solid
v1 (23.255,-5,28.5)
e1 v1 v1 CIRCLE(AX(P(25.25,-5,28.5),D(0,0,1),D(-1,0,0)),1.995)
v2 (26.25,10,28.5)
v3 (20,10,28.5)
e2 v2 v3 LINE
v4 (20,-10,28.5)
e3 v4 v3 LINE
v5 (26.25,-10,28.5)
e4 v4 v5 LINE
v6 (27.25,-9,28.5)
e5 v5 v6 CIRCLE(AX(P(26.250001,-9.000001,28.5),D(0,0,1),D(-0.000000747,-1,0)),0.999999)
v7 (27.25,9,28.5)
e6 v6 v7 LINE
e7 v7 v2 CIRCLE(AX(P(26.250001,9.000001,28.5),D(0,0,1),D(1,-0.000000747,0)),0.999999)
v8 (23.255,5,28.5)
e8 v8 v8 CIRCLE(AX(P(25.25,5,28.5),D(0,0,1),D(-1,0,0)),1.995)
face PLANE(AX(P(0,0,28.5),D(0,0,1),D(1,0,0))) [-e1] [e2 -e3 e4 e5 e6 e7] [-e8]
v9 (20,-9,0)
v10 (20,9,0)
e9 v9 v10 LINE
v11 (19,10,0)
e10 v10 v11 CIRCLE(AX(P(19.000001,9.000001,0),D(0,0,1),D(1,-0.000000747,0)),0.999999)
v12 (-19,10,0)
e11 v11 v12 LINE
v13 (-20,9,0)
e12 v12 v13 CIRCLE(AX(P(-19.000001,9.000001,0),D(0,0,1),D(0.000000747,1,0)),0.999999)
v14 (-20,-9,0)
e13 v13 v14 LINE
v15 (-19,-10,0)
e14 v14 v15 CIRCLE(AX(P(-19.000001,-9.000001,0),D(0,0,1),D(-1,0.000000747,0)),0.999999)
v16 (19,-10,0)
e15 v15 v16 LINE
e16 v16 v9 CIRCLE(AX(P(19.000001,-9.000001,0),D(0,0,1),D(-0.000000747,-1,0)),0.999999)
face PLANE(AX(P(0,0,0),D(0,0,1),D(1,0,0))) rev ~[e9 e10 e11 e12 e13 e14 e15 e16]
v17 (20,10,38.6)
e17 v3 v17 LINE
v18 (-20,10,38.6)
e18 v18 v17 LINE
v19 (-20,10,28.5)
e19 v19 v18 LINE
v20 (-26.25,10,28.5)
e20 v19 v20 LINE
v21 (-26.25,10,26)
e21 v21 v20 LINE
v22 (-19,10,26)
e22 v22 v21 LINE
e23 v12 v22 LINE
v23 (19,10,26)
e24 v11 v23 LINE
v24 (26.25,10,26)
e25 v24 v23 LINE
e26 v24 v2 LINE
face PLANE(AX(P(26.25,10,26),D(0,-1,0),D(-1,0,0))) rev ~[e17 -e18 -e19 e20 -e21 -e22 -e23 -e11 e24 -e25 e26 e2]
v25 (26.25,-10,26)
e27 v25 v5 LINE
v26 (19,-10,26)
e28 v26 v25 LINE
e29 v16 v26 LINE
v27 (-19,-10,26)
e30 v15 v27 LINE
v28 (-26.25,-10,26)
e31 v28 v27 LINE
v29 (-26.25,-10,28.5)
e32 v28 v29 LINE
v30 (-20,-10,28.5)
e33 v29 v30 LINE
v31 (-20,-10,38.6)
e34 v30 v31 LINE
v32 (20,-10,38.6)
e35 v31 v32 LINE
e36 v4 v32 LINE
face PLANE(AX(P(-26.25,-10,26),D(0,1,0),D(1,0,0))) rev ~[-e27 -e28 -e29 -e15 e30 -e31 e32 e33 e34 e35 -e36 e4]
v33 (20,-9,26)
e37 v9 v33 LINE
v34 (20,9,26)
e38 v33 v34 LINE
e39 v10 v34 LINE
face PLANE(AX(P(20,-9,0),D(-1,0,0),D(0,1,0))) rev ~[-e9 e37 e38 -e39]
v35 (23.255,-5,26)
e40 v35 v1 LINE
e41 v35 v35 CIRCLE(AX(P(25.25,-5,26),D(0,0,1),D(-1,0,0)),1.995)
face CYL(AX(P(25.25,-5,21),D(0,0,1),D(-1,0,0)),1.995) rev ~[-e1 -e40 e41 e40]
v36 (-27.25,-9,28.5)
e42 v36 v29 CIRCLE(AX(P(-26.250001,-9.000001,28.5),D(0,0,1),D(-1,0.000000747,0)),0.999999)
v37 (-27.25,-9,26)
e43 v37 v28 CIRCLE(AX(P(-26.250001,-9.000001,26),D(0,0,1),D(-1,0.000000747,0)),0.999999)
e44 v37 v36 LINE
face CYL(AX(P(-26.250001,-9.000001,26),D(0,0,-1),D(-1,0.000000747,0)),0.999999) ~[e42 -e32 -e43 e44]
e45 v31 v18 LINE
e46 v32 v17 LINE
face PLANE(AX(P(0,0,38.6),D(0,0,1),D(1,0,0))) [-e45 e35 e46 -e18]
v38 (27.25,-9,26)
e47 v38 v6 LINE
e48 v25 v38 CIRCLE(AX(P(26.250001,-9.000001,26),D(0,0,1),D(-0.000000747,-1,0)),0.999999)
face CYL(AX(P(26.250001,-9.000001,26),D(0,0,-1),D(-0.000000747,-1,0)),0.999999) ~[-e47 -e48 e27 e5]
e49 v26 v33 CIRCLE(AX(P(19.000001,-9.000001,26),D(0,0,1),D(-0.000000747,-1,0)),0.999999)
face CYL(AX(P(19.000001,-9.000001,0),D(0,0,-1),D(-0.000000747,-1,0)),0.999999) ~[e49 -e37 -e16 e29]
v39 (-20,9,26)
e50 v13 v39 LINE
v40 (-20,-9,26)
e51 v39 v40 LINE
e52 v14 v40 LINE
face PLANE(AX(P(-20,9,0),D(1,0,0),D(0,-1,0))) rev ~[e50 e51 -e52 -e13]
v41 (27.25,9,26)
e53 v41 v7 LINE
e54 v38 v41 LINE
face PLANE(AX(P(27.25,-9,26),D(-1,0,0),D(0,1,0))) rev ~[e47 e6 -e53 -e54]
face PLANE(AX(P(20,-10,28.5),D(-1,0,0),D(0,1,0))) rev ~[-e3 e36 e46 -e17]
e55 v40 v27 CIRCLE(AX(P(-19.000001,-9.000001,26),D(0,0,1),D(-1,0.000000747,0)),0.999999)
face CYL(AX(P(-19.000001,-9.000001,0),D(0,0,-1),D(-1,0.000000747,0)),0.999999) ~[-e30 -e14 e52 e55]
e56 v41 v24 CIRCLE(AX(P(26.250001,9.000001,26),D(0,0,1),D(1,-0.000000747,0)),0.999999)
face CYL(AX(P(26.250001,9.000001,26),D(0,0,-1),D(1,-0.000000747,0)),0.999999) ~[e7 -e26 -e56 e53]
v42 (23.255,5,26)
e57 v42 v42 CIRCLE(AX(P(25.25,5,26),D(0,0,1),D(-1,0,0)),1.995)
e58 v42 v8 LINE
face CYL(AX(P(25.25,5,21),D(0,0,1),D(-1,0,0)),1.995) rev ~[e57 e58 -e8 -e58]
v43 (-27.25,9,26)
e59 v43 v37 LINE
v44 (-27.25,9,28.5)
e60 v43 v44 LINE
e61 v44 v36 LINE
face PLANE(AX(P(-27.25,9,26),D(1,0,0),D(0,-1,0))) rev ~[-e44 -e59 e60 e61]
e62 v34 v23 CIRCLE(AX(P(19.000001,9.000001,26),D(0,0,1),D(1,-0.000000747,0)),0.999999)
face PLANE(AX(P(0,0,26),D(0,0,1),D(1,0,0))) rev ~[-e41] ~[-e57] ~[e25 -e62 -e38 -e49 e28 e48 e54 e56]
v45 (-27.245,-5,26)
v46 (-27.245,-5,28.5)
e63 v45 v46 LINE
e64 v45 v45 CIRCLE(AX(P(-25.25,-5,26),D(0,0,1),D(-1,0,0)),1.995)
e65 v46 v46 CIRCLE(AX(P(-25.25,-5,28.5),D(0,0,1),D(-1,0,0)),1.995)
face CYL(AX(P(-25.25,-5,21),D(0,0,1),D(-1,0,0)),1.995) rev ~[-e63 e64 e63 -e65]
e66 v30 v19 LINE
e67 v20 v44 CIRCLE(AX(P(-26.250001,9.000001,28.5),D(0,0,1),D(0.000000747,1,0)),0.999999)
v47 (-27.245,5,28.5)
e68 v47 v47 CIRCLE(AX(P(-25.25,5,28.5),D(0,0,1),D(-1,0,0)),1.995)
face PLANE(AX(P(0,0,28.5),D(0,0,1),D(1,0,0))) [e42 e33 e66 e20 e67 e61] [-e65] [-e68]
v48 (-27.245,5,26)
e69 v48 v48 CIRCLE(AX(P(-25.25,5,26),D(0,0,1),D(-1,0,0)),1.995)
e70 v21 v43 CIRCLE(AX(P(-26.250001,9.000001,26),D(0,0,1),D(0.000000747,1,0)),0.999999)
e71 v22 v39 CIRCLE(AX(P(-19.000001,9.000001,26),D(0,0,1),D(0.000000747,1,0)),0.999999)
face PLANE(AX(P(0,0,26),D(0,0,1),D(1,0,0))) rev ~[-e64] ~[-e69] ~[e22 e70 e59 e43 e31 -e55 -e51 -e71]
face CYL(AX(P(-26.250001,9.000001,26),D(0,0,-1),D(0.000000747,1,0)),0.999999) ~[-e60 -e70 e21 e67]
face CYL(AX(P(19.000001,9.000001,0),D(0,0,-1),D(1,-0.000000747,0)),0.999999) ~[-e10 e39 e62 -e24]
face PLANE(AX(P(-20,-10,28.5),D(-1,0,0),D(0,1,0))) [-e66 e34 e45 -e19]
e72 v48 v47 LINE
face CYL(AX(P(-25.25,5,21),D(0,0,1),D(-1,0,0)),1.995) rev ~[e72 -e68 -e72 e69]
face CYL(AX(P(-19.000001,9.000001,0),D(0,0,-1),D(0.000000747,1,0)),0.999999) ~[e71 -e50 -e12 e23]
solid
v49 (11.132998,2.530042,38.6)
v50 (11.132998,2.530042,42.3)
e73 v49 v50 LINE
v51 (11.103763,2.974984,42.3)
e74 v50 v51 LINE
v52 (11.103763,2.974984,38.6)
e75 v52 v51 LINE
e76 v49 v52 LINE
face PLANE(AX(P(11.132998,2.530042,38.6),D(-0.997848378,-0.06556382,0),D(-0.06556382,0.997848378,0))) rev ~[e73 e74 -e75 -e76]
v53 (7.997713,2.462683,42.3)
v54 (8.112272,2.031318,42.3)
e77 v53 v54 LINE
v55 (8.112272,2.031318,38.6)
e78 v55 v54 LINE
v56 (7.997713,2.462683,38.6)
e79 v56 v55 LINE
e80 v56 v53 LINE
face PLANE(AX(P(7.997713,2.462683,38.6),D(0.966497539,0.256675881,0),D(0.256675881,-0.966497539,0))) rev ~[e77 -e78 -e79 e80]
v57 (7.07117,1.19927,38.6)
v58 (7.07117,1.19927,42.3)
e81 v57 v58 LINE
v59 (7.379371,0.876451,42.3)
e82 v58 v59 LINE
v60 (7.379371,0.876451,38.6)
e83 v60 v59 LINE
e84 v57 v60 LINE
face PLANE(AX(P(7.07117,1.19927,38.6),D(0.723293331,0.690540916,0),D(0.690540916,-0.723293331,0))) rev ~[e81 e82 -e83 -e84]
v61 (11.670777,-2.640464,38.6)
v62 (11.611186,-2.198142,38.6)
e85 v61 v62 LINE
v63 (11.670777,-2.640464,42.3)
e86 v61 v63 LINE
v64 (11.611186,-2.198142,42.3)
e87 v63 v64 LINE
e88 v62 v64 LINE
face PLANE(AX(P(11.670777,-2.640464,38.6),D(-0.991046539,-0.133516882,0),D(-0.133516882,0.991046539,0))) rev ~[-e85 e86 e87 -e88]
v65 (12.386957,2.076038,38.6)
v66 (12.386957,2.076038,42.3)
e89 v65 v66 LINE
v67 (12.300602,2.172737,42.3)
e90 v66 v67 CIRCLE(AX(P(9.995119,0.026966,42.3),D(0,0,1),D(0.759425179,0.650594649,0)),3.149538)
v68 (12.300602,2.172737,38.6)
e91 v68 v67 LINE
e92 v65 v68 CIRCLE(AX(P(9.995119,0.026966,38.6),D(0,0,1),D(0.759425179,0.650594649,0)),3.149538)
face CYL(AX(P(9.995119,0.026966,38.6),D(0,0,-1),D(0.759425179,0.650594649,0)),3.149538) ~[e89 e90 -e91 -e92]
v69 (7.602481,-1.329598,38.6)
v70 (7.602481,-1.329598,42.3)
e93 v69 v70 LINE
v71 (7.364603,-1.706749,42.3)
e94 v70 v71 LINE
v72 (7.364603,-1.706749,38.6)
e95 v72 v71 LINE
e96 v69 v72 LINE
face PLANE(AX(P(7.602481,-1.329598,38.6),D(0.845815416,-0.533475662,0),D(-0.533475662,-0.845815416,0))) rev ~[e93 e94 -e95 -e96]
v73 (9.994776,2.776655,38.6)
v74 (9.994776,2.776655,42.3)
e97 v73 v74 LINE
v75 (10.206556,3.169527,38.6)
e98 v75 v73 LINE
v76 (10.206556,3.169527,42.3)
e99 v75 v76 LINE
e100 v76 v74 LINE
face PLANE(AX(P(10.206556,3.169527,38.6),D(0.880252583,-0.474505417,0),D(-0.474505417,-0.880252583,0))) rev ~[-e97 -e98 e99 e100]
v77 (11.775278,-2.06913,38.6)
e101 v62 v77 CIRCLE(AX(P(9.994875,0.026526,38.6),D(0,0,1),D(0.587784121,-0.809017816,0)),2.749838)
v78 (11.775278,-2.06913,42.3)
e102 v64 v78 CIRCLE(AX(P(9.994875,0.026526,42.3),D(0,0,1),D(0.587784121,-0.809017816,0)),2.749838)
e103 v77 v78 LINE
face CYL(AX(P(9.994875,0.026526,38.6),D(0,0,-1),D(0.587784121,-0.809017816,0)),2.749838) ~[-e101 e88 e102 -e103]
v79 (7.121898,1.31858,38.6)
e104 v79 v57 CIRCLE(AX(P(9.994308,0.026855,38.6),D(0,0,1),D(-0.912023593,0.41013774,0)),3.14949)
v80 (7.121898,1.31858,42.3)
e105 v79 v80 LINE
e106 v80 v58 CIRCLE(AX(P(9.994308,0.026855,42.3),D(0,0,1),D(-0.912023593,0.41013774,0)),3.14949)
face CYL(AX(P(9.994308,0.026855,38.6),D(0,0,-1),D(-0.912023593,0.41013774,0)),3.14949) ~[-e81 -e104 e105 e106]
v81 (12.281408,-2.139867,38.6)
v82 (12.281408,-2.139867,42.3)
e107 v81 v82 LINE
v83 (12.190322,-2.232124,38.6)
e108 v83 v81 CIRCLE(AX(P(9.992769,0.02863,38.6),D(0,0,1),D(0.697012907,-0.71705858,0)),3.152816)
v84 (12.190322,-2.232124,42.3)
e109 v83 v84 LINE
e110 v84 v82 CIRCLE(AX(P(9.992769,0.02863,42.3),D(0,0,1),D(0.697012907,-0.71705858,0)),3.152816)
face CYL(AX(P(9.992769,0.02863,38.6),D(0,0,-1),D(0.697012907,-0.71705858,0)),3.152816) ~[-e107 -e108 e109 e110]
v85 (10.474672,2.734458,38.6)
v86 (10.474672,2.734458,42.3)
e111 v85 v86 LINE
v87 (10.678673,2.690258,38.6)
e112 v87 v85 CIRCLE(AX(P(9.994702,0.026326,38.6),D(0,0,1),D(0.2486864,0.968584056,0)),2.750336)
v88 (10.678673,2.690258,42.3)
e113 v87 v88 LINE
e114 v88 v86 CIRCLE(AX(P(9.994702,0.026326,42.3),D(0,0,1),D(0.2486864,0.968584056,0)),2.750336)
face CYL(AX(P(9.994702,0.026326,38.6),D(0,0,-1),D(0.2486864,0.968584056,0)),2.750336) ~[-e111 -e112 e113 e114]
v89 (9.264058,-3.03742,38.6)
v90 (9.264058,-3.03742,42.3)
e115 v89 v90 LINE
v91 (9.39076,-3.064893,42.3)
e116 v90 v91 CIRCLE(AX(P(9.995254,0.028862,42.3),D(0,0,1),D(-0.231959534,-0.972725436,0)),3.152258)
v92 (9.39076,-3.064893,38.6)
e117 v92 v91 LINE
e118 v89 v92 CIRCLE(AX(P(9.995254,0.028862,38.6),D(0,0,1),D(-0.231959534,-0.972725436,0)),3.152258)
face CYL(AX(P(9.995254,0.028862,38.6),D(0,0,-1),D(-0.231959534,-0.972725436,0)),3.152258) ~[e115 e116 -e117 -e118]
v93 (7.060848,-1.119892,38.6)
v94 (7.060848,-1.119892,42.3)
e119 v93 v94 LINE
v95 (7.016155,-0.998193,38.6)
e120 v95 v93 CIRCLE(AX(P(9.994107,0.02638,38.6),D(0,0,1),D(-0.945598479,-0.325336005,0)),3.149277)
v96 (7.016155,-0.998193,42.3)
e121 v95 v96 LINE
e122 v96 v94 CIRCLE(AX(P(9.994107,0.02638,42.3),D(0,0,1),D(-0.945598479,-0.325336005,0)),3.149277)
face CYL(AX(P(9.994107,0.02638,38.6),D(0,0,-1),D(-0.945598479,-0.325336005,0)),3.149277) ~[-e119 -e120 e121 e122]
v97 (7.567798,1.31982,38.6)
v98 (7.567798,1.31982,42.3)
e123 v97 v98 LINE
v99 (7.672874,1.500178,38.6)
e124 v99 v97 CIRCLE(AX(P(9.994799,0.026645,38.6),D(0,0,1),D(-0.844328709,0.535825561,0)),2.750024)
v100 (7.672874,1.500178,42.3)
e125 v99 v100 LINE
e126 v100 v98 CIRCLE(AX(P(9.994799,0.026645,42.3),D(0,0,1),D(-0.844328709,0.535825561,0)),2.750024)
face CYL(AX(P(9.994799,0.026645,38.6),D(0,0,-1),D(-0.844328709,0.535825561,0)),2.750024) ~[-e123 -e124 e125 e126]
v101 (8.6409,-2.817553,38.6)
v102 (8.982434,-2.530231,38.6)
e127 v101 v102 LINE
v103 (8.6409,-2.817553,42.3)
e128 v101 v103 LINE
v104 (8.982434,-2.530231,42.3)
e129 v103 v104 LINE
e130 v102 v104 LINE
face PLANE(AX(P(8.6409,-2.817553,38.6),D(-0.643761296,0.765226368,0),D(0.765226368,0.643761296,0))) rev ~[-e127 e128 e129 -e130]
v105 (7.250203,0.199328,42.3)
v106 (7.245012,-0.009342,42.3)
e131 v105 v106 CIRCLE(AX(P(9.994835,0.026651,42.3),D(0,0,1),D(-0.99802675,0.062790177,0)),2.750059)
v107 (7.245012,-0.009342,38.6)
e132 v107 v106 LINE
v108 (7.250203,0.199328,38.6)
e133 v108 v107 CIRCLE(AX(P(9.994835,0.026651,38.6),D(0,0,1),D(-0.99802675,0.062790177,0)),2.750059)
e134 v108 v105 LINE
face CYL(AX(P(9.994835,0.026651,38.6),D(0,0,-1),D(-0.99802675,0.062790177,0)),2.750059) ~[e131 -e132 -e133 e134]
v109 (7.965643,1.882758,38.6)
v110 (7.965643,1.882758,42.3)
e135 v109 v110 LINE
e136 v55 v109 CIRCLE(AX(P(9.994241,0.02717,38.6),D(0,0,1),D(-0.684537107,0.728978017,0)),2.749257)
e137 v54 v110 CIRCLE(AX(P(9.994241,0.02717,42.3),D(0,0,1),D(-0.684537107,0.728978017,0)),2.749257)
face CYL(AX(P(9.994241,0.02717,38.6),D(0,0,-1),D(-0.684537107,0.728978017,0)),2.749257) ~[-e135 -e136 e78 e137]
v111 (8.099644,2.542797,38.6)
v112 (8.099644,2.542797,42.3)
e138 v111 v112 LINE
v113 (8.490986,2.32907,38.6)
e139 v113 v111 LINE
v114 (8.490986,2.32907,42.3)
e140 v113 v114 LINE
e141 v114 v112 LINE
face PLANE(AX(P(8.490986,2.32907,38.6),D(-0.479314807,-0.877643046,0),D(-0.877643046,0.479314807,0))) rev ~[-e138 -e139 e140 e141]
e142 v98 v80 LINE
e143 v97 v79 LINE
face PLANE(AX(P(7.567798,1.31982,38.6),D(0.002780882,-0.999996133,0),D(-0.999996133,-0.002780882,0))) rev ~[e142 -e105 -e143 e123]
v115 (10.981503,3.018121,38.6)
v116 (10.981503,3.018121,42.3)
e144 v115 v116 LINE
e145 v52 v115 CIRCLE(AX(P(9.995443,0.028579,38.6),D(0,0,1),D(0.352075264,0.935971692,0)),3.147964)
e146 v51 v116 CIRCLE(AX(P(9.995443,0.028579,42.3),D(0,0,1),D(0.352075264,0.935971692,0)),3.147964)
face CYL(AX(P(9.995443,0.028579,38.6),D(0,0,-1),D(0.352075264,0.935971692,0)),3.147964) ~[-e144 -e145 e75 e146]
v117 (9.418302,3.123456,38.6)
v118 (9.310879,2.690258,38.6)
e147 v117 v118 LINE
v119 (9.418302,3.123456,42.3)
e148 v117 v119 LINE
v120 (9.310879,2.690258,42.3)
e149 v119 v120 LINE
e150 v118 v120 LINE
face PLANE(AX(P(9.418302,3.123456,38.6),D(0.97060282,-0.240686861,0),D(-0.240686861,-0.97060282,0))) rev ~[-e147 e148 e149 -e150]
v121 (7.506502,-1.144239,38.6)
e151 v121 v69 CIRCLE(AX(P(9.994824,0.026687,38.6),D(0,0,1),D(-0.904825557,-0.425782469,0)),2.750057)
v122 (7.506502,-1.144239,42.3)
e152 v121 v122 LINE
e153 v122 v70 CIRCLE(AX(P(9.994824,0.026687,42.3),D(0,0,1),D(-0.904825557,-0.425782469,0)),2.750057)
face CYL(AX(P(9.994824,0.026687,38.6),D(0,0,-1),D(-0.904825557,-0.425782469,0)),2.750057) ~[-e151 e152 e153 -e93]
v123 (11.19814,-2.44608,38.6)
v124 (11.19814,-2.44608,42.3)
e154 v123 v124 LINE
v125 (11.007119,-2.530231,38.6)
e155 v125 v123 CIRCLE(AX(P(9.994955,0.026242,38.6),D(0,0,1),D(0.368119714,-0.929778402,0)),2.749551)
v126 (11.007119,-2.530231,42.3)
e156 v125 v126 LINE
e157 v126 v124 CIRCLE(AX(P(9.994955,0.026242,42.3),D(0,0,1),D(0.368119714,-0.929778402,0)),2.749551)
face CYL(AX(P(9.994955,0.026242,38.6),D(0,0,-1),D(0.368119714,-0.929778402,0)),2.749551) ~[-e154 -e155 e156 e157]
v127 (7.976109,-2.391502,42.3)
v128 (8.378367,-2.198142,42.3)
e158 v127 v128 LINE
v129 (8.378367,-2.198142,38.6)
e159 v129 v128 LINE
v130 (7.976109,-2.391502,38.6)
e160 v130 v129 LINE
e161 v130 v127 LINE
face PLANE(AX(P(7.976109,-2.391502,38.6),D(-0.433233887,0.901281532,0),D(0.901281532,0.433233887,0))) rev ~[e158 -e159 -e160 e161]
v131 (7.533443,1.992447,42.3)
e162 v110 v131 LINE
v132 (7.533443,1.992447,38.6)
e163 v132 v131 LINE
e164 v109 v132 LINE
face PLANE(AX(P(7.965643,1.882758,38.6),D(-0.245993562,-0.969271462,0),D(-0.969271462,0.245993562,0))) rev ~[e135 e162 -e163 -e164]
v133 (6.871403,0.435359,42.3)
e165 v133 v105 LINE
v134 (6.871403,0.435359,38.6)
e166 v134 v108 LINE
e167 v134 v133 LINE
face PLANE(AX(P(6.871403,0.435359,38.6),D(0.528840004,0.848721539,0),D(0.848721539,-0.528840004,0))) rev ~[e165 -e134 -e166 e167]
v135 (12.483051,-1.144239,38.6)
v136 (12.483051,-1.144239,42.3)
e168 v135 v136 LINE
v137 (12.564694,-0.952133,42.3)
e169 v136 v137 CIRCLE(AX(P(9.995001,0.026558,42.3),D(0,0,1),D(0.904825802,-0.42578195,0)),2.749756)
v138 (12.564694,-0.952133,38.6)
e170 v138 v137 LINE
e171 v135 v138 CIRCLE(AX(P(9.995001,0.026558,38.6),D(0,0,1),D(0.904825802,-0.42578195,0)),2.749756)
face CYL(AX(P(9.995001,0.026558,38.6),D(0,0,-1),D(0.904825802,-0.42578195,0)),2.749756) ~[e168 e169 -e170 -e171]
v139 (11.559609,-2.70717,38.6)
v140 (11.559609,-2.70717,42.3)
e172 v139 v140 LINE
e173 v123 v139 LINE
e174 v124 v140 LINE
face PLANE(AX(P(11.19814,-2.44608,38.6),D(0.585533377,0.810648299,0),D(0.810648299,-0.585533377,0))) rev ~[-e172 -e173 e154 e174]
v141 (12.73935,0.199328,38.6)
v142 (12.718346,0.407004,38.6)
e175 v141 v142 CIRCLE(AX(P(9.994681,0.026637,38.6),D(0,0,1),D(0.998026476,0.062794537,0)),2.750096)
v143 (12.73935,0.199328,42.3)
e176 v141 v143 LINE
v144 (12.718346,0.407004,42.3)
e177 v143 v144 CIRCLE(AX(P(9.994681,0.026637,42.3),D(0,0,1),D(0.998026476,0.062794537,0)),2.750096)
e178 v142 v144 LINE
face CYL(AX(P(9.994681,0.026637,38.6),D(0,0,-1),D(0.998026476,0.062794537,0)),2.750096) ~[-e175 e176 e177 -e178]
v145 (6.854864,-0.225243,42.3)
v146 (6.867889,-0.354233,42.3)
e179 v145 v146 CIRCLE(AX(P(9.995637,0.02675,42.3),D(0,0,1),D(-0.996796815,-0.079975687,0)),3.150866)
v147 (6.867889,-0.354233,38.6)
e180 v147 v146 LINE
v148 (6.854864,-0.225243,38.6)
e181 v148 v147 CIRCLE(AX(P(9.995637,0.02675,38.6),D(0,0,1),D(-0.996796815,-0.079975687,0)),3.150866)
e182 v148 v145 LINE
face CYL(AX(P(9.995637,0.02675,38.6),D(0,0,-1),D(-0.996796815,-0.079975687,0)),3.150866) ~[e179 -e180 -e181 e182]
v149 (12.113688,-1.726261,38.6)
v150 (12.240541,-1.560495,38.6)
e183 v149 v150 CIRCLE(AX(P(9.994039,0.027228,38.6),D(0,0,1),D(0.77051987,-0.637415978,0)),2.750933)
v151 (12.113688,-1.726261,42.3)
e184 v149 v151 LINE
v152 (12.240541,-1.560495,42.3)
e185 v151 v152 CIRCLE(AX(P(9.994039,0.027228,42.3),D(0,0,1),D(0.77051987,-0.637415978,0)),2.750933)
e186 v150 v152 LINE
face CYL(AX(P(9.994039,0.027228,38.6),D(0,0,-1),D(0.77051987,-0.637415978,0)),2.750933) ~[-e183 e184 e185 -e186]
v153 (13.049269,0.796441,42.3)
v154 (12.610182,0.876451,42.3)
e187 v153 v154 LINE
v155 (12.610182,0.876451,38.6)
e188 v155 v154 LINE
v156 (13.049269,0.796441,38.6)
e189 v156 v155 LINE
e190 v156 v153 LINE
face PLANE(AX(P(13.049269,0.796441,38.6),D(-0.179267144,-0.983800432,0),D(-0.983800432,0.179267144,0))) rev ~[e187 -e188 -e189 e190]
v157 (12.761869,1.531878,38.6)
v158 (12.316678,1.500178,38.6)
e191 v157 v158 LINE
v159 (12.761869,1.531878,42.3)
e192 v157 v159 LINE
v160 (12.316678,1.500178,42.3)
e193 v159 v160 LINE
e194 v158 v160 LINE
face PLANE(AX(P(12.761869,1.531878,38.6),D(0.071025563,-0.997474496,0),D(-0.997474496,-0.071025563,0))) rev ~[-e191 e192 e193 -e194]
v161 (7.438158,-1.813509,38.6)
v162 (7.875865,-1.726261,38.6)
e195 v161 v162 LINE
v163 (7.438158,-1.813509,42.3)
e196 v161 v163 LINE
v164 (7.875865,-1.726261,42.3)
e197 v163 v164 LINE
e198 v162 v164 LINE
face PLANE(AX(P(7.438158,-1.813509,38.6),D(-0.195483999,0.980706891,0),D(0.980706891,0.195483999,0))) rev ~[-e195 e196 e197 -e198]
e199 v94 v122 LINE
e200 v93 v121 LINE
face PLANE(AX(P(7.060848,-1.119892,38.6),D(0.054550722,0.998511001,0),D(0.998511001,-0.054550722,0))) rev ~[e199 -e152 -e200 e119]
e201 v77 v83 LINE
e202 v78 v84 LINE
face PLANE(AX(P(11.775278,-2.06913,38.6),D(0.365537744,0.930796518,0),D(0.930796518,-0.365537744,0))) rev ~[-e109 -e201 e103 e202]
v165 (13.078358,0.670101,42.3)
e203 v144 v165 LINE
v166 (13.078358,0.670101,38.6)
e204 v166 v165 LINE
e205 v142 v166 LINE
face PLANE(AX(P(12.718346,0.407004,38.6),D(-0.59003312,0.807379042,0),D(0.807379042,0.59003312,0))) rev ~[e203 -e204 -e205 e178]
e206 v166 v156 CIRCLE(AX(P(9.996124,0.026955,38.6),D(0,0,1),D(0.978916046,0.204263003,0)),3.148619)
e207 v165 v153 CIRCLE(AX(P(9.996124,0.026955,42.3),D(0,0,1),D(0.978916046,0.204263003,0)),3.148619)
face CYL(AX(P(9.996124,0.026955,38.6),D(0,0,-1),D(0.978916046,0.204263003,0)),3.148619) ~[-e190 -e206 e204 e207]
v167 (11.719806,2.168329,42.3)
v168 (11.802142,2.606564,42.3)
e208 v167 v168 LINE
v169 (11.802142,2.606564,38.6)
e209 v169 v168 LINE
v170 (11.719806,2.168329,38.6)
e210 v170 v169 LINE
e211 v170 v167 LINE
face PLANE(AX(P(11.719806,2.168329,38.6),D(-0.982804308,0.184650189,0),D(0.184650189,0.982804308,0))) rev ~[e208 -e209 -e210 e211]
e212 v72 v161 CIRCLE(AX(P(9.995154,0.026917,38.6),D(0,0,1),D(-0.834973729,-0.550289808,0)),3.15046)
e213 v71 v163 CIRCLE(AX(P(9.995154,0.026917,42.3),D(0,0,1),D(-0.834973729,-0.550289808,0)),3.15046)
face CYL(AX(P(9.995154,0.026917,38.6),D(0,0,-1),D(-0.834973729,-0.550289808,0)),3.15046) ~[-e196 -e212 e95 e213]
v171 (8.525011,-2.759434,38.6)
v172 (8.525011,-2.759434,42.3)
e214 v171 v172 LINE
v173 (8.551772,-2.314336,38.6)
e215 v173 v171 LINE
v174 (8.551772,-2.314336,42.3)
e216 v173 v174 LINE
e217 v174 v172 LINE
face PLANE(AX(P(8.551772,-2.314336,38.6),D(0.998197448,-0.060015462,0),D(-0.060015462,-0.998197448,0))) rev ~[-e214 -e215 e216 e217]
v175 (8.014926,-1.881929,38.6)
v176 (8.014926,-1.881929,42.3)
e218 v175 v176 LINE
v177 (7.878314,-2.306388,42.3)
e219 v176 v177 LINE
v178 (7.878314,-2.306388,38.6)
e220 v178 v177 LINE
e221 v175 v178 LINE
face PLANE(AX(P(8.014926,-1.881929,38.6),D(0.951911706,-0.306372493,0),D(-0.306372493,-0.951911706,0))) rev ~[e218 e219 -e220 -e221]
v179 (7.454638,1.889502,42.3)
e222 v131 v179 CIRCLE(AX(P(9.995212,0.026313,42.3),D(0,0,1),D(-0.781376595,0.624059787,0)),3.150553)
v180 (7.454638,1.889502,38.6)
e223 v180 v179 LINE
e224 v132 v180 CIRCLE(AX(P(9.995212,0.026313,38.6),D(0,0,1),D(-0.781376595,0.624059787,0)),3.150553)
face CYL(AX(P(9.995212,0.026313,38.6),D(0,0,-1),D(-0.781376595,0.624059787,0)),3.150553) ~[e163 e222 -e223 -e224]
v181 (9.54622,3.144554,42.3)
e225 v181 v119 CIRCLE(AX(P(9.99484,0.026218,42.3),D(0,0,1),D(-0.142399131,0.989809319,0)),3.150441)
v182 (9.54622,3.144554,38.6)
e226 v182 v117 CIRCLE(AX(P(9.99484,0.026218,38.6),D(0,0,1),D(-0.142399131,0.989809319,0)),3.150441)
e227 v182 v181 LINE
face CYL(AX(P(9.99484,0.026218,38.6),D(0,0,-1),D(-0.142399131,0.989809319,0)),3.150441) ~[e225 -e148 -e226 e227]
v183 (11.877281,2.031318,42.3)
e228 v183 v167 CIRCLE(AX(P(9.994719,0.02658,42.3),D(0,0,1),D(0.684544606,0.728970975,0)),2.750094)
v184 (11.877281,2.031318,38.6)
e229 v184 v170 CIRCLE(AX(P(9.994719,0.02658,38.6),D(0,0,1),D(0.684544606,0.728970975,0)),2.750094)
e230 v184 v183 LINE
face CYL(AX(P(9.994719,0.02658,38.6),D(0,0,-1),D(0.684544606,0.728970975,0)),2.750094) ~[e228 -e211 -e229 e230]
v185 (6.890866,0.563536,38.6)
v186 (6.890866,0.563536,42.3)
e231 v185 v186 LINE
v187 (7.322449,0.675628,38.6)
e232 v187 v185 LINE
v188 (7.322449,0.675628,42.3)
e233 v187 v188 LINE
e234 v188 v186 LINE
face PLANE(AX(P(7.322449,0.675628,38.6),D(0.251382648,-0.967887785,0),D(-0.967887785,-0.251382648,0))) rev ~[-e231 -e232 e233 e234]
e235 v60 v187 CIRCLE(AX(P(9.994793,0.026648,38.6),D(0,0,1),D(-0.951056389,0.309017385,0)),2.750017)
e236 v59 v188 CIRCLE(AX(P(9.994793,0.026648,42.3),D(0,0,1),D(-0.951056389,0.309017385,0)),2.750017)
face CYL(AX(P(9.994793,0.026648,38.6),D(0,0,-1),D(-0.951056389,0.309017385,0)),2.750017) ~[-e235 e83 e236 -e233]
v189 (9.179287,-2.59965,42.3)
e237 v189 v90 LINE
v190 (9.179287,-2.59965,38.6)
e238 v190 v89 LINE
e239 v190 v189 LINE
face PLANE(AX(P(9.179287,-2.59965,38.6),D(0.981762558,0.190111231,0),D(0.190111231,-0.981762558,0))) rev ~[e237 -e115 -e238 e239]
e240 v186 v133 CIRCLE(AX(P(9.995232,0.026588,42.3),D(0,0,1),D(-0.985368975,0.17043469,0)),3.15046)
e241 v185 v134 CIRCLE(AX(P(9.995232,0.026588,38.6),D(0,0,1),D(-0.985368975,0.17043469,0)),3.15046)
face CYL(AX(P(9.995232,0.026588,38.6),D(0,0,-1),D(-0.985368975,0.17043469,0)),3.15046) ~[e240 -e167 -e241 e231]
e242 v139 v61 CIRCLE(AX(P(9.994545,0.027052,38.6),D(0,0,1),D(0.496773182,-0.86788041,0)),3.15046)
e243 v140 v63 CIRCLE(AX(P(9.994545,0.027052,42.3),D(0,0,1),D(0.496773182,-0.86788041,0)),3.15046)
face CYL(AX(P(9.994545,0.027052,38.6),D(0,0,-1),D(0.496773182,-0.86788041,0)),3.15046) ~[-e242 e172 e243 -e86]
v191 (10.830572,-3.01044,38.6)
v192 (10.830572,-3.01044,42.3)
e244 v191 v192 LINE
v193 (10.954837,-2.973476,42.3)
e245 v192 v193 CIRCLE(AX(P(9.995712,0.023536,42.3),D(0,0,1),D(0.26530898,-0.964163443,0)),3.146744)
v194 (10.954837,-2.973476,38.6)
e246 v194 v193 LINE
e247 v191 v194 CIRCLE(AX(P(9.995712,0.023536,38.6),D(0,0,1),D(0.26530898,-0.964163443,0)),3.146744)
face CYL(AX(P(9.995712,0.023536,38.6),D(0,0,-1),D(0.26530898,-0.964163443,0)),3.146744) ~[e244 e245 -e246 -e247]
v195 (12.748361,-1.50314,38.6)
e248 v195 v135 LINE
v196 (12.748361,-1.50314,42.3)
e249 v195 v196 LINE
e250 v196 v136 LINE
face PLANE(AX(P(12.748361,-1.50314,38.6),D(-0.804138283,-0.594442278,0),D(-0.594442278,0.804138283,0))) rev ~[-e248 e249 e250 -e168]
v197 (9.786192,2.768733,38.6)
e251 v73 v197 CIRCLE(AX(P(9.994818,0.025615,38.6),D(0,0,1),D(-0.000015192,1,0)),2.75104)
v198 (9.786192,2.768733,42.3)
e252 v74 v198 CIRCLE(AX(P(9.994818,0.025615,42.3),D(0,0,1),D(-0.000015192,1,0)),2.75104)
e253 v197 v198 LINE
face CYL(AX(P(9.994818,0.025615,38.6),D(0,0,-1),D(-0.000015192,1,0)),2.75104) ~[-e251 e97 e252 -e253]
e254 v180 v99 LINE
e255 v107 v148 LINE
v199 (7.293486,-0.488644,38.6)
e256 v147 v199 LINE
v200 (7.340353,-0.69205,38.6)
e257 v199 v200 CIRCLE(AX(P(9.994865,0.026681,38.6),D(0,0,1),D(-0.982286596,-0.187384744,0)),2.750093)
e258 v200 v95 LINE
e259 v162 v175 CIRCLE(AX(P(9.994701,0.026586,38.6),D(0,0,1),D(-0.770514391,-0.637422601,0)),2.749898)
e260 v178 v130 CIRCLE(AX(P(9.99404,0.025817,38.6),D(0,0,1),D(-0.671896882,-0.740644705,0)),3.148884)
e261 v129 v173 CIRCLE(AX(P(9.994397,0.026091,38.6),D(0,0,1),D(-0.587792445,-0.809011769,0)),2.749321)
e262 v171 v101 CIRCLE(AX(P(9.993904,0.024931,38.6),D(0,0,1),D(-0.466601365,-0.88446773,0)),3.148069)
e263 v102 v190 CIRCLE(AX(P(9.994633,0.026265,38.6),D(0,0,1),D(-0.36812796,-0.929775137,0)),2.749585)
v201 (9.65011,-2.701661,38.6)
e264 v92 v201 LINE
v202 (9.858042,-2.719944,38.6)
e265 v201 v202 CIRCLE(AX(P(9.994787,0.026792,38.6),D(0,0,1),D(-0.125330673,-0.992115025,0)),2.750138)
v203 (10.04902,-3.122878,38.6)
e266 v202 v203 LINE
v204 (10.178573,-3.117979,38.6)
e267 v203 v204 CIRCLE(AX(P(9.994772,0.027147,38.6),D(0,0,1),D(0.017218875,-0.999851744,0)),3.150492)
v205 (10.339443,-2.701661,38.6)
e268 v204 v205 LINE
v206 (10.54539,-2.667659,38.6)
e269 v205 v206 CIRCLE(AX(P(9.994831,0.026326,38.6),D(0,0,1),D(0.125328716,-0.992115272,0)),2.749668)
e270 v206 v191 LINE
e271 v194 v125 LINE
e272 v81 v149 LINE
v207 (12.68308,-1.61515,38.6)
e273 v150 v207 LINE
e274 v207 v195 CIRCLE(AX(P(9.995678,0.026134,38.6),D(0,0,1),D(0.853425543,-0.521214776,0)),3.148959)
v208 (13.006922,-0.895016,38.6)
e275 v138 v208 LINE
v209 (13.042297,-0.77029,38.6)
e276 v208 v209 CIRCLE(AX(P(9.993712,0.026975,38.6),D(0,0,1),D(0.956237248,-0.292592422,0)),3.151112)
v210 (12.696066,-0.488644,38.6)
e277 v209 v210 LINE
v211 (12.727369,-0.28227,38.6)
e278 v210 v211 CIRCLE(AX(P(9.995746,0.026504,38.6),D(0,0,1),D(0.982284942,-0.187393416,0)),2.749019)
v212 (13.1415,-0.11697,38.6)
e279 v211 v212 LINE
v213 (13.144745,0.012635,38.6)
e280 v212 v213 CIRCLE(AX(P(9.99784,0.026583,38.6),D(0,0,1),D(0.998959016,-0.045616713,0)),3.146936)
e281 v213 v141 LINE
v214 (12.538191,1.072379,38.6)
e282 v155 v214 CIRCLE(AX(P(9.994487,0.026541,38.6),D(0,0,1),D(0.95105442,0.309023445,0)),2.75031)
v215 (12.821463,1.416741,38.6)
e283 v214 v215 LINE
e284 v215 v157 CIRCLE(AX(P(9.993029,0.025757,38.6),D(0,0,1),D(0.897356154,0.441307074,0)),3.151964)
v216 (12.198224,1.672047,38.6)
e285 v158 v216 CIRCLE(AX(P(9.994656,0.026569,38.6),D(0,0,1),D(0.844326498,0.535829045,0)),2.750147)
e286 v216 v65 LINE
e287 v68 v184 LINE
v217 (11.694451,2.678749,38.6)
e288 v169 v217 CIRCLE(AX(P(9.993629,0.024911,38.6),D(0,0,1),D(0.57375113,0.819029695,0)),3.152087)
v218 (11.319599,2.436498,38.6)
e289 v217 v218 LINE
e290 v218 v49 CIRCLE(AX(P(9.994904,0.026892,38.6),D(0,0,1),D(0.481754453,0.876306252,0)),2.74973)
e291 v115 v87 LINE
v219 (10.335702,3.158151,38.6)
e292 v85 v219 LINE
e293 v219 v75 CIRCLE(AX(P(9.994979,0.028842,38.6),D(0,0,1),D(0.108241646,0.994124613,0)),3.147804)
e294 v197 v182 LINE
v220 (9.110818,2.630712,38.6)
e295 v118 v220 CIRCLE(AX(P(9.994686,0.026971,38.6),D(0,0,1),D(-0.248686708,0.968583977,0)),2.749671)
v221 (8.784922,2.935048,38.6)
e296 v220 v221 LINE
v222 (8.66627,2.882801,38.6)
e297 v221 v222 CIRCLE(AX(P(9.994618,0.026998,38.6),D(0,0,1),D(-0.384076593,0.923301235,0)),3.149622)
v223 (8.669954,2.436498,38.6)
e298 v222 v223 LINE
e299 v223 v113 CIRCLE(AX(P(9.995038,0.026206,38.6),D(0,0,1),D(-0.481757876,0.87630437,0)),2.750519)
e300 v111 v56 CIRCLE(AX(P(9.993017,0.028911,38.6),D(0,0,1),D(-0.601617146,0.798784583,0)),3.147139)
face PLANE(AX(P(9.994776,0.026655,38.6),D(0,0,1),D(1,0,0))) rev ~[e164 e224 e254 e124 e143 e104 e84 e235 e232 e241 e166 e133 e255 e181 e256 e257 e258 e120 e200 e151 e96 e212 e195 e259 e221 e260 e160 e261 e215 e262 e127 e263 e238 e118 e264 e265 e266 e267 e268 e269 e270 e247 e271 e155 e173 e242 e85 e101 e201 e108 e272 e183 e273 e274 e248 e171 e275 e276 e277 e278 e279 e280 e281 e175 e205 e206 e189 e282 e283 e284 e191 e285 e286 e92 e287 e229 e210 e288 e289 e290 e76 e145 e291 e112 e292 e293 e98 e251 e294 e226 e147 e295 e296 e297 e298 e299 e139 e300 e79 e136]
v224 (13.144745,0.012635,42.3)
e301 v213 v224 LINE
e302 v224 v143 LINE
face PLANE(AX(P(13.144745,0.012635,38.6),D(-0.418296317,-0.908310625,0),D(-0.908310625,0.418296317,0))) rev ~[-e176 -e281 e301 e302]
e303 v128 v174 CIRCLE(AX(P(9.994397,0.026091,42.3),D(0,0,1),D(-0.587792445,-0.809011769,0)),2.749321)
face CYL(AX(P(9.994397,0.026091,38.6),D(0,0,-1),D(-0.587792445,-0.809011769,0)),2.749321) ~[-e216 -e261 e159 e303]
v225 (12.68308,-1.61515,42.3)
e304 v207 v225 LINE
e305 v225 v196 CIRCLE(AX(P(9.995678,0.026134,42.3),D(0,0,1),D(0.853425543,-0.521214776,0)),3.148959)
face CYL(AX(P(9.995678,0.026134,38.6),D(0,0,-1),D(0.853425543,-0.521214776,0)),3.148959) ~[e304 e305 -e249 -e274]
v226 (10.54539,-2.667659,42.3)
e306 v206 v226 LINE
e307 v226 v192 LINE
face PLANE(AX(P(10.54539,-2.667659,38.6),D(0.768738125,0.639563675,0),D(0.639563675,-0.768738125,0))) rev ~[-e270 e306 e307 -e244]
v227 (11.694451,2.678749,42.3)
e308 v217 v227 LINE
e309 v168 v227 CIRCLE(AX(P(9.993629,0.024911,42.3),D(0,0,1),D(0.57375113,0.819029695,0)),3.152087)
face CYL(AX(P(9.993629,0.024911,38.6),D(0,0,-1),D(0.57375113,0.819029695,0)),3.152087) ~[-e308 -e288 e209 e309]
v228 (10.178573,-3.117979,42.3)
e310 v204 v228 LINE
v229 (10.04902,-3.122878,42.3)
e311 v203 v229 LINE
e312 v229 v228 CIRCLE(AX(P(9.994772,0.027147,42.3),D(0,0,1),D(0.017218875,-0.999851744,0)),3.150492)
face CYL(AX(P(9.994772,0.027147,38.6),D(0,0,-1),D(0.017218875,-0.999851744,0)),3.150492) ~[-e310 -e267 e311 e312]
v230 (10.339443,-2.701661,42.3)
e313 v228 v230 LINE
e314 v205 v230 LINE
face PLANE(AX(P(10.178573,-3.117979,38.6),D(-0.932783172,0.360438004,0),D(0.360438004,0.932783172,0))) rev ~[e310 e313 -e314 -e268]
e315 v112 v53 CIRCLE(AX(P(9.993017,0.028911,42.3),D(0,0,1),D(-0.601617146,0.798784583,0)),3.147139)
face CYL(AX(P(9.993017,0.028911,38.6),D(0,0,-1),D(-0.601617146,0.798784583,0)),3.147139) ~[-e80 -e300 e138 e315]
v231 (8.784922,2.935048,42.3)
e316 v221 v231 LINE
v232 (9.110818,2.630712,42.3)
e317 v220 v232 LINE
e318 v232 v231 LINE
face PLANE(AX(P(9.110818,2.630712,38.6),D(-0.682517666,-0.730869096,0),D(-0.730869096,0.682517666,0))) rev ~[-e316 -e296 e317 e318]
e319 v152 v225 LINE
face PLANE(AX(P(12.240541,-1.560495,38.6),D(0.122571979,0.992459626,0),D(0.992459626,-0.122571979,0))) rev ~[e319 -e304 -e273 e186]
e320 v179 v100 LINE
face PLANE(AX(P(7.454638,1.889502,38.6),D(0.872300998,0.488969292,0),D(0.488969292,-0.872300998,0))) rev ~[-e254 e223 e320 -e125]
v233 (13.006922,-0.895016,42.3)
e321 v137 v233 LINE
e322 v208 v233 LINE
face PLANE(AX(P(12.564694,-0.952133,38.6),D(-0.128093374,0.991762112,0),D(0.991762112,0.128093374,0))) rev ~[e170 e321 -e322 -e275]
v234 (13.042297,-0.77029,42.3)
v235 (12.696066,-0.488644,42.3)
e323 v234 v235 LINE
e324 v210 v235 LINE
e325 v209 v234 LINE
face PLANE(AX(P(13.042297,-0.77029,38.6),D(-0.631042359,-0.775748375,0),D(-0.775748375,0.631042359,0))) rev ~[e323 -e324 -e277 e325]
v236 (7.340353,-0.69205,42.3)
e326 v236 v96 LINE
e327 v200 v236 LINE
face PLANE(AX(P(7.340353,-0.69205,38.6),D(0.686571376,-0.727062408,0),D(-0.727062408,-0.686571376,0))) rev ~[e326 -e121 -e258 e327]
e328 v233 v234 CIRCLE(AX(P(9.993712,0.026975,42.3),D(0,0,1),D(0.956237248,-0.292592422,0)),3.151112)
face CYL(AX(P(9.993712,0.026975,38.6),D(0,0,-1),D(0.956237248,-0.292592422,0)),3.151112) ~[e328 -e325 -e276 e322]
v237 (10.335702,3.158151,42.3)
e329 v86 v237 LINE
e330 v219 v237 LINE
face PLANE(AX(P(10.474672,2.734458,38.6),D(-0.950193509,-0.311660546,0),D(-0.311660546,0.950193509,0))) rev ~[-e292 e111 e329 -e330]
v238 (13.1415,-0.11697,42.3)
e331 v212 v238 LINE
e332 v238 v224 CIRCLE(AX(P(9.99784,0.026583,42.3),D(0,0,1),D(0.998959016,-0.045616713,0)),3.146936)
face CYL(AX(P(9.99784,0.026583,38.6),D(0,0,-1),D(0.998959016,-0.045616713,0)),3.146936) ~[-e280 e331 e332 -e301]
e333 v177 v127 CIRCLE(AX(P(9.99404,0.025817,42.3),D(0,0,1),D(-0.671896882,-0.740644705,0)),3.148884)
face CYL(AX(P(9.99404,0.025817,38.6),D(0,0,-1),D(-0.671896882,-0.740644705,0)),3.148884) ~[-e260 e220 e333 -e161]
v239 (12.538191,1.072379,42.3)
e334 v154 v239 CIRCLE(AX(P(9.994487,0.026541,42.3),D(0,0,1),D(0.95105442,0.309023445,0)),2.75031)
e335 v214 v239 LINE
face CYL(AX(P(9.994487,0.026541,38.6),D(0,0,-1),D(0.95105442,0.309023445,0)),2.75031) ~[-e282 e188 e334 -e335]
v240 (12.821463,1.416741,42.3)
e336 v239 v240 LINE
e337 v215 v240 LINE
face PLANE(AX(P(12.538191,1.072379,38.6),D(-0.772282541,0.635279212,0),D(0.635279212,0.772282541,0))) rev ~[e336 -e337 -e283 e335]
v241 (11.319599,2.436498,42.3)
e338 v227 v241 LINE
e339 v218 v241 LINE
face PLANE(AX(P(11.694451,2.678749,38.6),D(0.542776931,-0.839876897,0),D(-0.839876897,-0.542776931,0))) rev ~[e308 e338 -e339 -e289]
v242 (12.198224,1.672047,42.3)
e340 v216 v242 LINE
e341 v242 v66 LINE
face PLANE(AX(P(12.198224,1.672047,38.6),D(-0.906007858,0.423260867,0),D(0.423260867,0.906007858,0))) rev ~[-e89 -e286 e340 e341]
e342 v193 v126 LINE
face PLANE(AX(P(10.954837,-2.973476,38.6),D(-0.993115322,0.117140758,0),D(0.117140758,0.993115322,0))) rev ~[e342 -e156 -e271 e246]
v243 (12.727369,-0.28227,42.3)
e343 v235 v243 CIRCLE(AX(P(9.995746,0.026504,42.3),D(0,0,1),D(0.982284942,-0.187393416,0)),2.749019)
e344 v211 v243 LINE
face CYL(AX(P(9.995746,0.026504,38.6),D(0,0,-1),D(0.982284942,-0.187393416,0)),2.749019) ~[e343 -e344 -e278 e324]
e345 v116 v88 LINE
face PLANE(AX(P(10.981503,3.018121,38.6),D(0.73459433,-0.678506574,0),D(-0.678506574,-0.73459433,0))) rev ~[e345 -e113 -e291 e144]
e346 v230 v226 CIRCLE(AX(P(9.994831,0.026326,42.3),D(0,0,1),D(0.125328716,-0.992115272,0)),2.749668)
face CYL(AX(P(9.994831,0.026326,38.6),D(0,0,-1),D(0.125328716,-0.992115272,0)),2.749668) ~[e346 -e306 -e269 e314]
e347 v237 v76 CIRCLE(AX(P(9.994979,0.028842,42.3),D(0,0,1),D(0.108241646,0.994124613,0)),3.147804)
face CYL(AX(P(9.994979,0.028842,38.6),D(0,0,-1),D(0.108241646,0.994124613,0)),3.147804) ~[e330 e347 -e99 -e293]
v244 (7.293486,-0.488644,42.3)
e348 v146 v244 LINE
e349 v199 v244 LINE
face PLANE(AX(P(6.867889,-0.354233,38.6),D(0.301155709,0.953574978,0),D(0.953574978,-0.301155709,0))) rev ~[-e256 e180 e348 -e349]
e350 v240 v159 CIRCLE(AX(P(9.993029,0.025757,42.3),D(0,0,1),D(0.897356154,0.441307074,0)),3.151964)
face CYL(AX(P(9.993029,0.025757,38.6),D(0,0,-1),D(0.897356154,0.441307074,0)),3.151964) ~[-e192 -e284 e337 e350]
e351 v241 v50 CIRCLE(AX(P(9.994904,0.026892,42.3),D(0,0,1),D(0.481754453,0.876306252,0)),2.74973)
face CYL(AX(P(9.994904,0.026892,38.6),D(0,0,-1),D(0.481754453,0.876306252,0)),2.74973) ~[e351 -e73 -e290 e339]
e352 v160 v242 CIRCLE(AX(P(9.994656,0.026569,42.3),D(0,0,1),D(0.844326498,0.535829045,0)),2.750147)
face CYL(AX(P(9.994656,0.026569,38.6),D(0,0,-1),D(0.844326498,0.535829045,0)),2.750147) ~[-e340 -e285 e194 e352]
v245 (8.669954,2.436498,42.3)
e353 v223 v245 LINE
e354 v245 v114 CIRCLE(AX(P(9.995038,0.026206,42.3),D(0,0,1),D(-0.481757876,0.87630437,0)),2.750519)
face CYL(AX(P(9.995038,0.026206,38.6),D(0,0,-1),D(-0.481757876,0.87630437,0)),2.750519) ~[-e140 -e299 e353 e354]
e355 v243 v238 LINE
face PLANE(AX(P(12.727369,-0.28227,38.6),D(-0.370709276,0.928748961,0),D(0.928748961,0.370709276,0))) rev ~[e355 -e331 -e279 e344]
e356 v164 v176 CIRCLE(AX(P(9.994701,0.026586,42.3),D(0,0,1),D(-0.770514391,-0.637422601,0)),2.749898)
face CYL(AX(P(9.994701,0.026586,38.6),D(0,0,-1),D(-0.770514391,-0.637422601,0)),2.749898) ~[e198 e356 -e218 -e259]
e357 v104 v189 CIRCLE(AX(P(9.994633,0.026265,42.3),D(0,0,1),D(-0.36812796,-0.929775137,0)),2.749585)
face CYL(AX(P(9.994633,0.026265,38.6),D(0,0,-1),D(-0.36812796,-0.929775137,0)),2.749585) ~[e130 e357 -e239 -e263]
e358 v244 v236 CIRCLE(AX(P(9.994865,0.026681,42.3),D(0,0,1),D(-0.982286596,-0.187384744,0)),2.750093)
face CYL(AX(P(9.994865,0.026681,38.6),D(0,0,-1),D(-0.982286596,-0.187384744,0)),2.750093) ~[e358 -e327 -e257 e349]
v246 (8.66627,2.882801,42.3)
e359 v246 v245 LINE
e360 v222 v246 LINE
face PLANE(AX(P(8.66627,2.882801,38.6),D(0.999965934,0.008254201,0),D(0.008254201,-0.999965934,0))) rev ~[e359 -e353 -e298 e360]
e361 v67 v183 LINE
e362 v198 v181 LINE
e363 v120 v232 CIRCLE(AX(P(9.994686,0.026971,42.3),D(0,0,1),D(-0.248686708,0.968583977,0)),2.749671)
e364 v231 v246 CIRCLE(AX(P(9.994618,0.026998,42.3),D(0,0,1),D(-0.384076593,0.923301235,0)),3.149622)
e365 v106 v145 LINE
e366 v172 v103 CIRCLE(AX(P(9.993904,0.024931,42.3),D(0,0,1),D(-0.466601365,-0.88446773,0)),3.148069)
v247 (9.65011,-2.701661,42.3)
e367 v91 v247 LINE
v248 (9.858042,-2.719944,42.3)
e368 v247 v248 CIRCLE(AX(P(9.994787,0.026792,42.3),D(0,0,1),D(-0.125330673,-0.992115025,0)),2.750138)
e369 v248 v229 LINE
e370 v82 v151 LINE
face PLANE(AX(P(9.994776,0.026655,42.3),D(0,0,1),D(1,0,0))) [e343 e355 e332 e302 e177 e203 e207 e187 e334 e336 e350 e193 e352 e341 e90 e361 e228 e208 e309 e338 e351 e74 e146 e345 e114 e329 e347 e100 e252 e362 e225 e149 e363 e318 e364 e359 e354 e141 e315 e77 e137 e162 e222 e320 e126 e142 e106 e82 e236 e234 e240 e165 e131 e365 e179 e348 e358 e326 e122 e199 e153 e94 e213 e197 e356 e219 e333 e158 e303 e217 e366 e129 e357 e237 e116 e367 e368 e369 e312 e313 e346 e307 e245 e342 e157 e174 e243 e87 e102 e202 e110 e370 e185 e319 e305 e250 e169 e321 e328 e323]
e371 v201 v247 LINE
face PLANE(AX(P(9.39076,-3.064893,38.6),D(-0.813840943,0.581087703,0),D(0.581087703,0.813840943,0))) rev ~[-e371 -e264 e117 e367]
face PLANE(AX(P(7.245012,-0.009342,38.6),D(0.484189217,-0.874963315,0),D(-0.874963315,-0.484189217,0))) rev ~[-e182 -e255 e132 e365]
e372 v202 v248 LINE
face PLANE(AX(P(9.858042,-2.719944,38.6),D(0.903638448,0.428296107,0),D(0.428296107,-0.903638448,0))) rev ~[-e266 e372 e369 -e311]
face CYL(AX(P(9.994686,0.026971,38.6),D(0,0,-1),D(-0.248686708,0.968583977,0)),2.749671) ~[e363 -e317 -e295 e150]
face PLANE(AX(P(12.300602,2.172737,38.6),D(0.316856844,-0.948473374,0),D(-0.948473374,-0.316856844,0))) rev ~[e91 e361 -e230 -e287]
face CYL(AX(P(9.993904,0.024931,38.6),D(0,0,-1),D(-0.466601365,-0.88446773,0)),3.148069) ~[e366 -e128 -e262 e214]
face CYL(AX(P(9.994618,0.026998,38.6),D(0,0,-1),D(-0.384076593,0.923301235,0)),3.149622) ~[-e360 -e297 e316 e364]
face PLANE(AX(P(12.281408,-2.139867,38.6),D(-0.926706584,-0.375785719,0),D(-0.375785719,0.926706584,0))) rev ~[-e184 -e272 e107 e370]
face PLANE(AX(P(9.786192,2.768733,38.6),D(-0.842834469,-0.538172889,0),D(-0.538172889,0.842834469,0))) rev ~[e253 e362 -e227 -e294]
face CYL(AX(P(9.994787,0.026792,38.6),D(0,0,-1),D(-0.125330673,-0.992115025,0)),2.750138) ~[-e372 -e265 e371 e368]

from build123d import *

# Parameters (mm, degrees)
F1_DEPTH  = 26
F3_DEPTH  = 2.5
F4_D      = 3.99
F4_DEPTH  = 5
F5_W      = 40
F5_H      = 20
F6_DEPTH  = 10.1
F7_R      = 2.5
F8_DEPTH  = 6
F10_DEPTH = 2
F13_DEPTH = 3.7


with BuildPart() as f1:
    # F0 (on Top) → F1 (new body)
    with BuildSketch(Plane.XY):
        with BuildLine():
            Line((-19, -10), (19, -10))
            ThreePointArc((19, -10), (19.707107, -9.707107), (20, -9))
            Line((20, -9), (20, 9))
            ThreePointArc((20, 9), (19.707107, 9.707107), (19, 10))
            Line((19, 10), (-19, 10))
            ThreePointArc((-19, 10), (-19.707107, 9.707107), (-20, 9))
            Line((-20, 9), (-20, -9))
            ThreePointArc((-20, -9), (-19.707107, -9.707107), (-19, -10))
        make_face()
    extrude(amount=F1_DEPTH)

    # F2 (on face) → F3 (join)
    with BuildSketch(Plane.XY.offset(26)):
        with BuildLine():
            Line((-26.25, -10), (26.25, -10))
            ThreePointArc((26.25, -10), (26.957107, -9.707107), (27.25, -9))
            Line((27.25, -9), (27.25, 9))
            ThreePointArc((27.25, 9), (26.957107, 9.707107), (26.25, 10))
            Line((26.25, 10), (-26.25, 10))
            ThreePointArc((-26.25, 10), (-26.957107, 9.707107), (-27.25, 9))
            Line((-27.25, 9), (-27.25, -9))
            ThreePointArc((-27.25, -9), (-26.957107, -9.707107), (-26.25, -10))
        make_face()
    extrude(amount=F3_DEPTH)

    # F4
    with Locations(Plane(origin=(0, 0, 26), x_dir=(1, 0, 0), z_dir=(0, 0, -1))):
        with Locations((-25.25, 5), (-25.25, -5), (25.25, 5), (25.25, -5)):
            Hole(F4_D / 2, depth=F4_DEPTH)

    # F5 (on face) → F6 (join)
    with BuildSketch(Plane.XY.offset(28.5)):
        Rectangle(F5_W, F5_H)
    extrude(amount=F6_DEPTH)


with BuildPart() as f8:
    # F7 (on face) → F8 (new body)
    with BuildSketch(Plane.XY.offset(38.6)):
        with Locations((10, 0)):
            Circle(F7_R)
    extrude(amount=F8_DEPTH)

    # F9 (on face) → F10 (join)
    with BuildSketch(Plane.XY.offset(44.6)):
        with BuildLine():
            ThreePointArc((-5.588466, 1.583393), (-6.591489, 1.114912), (-7, 0.086004))
            Line((-7, 0.086004), (-7, -0.085642))
            ThreePointArc((-7, -0.085642), (-6.591358, -1.114689), (-5.588083, -1.583054))
            Line((-5.588083, -1.583054), (4.973742, -2.204338))
            ThreePointArc((4.973742, -2.204338), (6.918625, -3.07757), (7.792354, -5.02223))
            Line((7.792354, -5.02223), (8.416607, -15.588466))
            ThreePointArc((8.416607, -15.588466), (8.885088, -16.591489), (9.913996, -17))
            Line((9.913996, -17), (10.085642, -17))
            ThreePointArc((10.085642, -17), (11.114689, -16.591358), (11.583054, -15.588083))
            Line((11.583054, -15.588083), (12.204338, -5.026258))
            ThreePointArc((12.204338, -5.026258), (13.07757, -3.081375), (15.02223, -2.207646))
            Line((15.02223, -2.207646), (25.588466, -1.583393))
            ThreePointArc((25.588466, -1.583393), (26.591489, -1.114912), (27, -0.086004))
            Line((27, -0.086004), (27, 0.085642))
            ThreePointArc((27, 0.085642), (26.591358, 1.114689), (25.588083, 1.583054))
            Line((25.588083, 1.583054), (15.026258, 2.204338))
            ThreePointArc((15.026258, 2.204338), (13.081375, 3.07757), (12.207646, 5.02223))
            Line((12.207646, 5.02223), (11.583393, 15.588466))
            ThreePointArc((11.583393, 15.588466), (11.114912, 16.591489), (10.086004, 17))
            Line((10.086004, 17), (9.914358, 17))
            ThreePointArc((9.914358, 17), (8.885311, 16.591358), (8.416946, 15.588083))
            Line((8.416946, 15.588083), (7.795662, 5.026258))
            ThreePointArc((7.795662, 5.026258), (6.92243, 3.081375), (4.97777, 2.207646))
            Line((4.97777, 2.207646), (-5.588466, 1.583393))
        make_face()
    extrude(amount=F10_DEPTH)


with BuildPart() as f13:
    # F12 (on face) → F13 (new body)
    with BuildSketch(Plane.XY.offset(38.6)):
        with BuildLine():
            Line((10.206556, 3.169527), (9.994776, 2.776655))
            ThreePointArc((9.994776, 2.776655), (9.890409, 2.774673), (9.786192, 2.768733))
            Line((9.786192, 2.768733), (9.54622, 3.144554))
            ThreePointArc((9.54622, 3.144554), (9.482152, 3.134663), (9.418302, 3.123456))
            Line((9.418302, 3.123456), (9.310879, 2.690258))
            ThreePointArc((9.310879, 2.690258), (9.210283, 2.662384), (9.110818, 2.630712))
            Line((9.110818, 2.630712), (8.784922, 2.935048))
            ThreePointArc((8.784922, 2.935048), (8.725327, 2.909535), (8.66627, 2.882801))
            Line((8.66627, 2.882801), (8.669954, 2.436498))
            ThreePointArc((8.669954, 2.436498), (8.57945, 2.384482), (8.490986, 2.32907))
            Line((8.490986, 2.32907), (8.099644, 2.542797))
            ThreePointArc((8.099644, 2.542797), (8.048266, 2.503265), (7.997713, 2.462683))
            Line((7.997713, 2.462683), (8.112272, 2.031318))
            ThreePointArc((8.112272, 2.031318), (8.037547, 1.95843), (7.965643, 1.882758))
            Line((7.965643, 1.882758), (7.533443, 1.992447))
            ThreePointArc((7.533443, 1.992447), (7.493511, 1.94138), (7.454638, 1.889502))
            Line((7.454638, 1.889502), (7.672874, 1.500178))
            ThreePointArc((7.672874, 1.500178), (7.618624, 1.410996), (7.567798, 1.31982))
            Line((7.567798, 1.31982), (7.121898, 1.31858))
            ThreePointArc((7.121898, 1.31858), (7.09592, 1.259186), (7.07117, 1.19927))
            Line((7.07117, 1.19927), (7.379371, 0.876451))
            ThreePointArc((7.379371, 0.876451), (7.349004, 0.77658), (7.322449, 0.675628))
            Line((7.322449, 0.675628), (6.890866, 0.563536))
            ThreePointArc((6.890866, 0.563536), (6.880475, 0.499547), (6.871403, 0.435359))
            Line((6.871403, 0.435359), (7.250203, 0.199328))
            ThreePointArc((7.250203, 0.199328), (7.245627, 0.095043), (7.245012, -0.009342))
            Line((7.245012, -0.009342), (6.854864, -0.225243))
            ThreePointArc((6.854864, -0.225243), (6.860713, -0.289805), (6.867889, -0.354233))
            Line((6.867889, -0.354233), (7.293486, -0.488644))
            ThreePointArc((7.293486, -0.488644), (7.314989, -0.590792), (7.340353, -0.69205))
            Line((7.340353, -0.69205), (7.016155, -0.998193))
            ThreePointArc((7.016155, -0.998193), (7.037875, -1.059272), (7.060848, -1.119892))
            Line((7.060848, -1.119892), (7.506502, -1.144239))
            ThreePointArc((7.506502, -1.144239), (7.552732, -1.237829), (7.602481, -1.329598))
            Line((7.602481, -1.329598), (7.364603, -1.706749))
            ThreePointArc((7.364603, -1.706749), (7.400831, -1.760507), (7.438158, -1.813509))
            Line((7.438158, -1.813509), (7.875865, -1.726261))
            ThreePointArc((7.875865, -1.726261), (7.943918, -1.805415), (8.014926, -1.881929))
            Line((8.014926, -1.881929), (7.878314, -2.306388))
            ThreePointArc((7.878314, -2.306388), (7.926773, -2.349448), (7.976109, -2.391502))
            Line((7.976109, -2.391502), (8.378367, -2.198142))
            ThreePointArc((8.378367, -2.198142), (8.463966, -2.257885), (8.551772, -2.314336))
            Line((8.551772, -2.314336), (8.525011, -2.759434))
            ThreePointArc((8.525011, -2.759434), (8.582656, -2.78909), (8.6409, -2.817553))
            Line((8.6409, -2.817553), (8.982434, -2.530231))
            ThreePointArc((8.982434, -2.530231), (9.080201, -2.566809), (9.179287, -2.59965))
            Line((9.179287, -2.59965), (9.264058, -3.03742))
            ThreePointArc((9.264058, -3.03742), (9.327268, -3.051808), (9.39076, -3.064893))
            Line((9.39076, -3.064893), (9.65011, -2.701661))
            ThreePointArc((9.65011, -2.701661), (9.753903, -2.712776), (9.858042, -2.719944))
            Line((9.858042, -2.719944), (10.04902, -3.122878))
            ThreePointArc((10.04902, -3.122878), (10.113821, -3.121095), (10.178573, -3.117979))
            Line((10.178573, -3.117979), (10.339443, -2.701661))
            ThreePointArc((10.339443, -2.701661), (10.442739, -2.686615), (10.54539, -2.667659))
            Line((10.54539, -2.667659), (10.830572, -3.01044))
            ThreePointArc((10.830572, -3.01044), (10.892895, -2.992598), (10.954837, -2.973476))
            Line((10.954837, -2.973476), (11.007119, -2.530231))
            ThreePointArc((11.007119, -2.530231), (11.103428, -2.489969), (11.19814, -2.44608))
            Line((11.19814, -2.44608), (11.559609, -2.70717))
            ThreePointArc((11.559609, -2.70717), (11.615536, -2.674389), (11.670777, -2.640464))
            Line((11.670777, -2.640464), (11.611186, -2.198142))
            ThreePointArc((11.611186, -2.198142), (11.694456, -2.135194), (11.775278, -2.06913))
            Line((11.775278, -2.06913), (12.190322, -2.232124))
            ThreePointArc((12.190322, -2.232124), (12.236339, -2.186464), (12.281408, -2.139867))
            Line((12.281408, -2.139867), (12.113688, -1.726261))
            ThreePointArc((12.113688, -1.726261), (12.178687, -1.644582), (12.240541, -1.560495))
            Line((12.240541, -1.560495), (12.68308, -1.61515))
            ThreePointArc((12.68308, -1.61515), (12.716297, -1.559481), (12.748361, -1.50314))
            Line((12.748361, -1.50314), (12.483051, -1.144239))
            ThreePointArc((12.483051, -1.144239), (12.525696, -1.048961), (12.564694, -0.952133))
            Line((12.564694, -0.952133), (13.006922, -0.895016))
            ThreePointArc((13.006922, -0.895016), (13.025251, -0.832835), (13.042297, -0.77029))
            Line((13.042297, -0.77029), (12.696066, -0.488644))
            ThreePointArc((12.696066, -0.488644), (12.713677, -0.385754), (12.727369, -0.28227))
            Line((12.727369, -0.28227), (13.1415, -0.11697))
            ThreePointArc((13.1415, -0.11697), (13.14379, -0.052184), (13.144745, 0.012635))
            Line((13.144745, 0.012635), (12.73935, 0.199328))
            ThreePointArc((12.73935, 0.199328), (12.730819, 0.303366), (12.718346, 0.407004))
            Line((12.718346, 0.407004), (13.078358, 0.670101))
            ThreePointArc((13.078358, 0.670101), (13.064464, 0.73342), (13.049269, 0.796441))
            Line((13.049269, 0.796441), (12.610182, 0.876451))
            ThreePointArc((12.610182, 0.876451), (12.576046, 0.975098), (12.538191, 1.072379))
            Line((12.538191, 1.072379), (12.821463, 1.416741))
            ThreePointArc((12.821463, 1.416741), (12.792258, 1.474616), (12.761869, 1.531878))
            Line((12.761869, 1.531878), (12.316678, 1.500178))
            ThreePointArc((12.316678, 1.500178), (12.259082, 1.587237), (12.198224, 1.672047))
            Line((12.198224, 1.672047), (12.386957, 2.076038))
            ThreePointArc((12.386957, 2.076038), (12.344277, 2.124832), (12.300602, 2.172737))
            Line((12.300602, 2.172737), (11.877281, 2.031318))
            ThreePointArc((11.877281, 2.031318), (11.799844, 2.101318), (11.719806, 2.168329))
            Line((11.719806, 2.168329), (11.802142, 2.606564))
            ThreePointArc((11.802142, 2.606564), (11.748668, 2.64321), (11.694451, 2.678749))
            Line((11.694451, 2.678749), (11.319599, 2.436498))
            ThreePointArc((11.319599, 2.436498), (11.227187, 2.485041), (11.132998, 2.530042))
            Line((11.132998, 2.530042), (11.103763, 2.974984))
            ThreePointArc((11.103763, 2.974984), (11.042855, 2.997182), (10.981503, 3.018121))
            Line((10.981503, 3.018121), (10.678673, 2.690258))
            ThreePointArc((10.678673, 2.690258), (10.577092, 2.714294), (10.474672, 2.734458))
            Line((10.474672, 2.734458), (10.335702, 3.158151))
            ThreePointArc((10.335702, 3.158151), (10.271187, 3.164504), (10.206556, 3.169527))
        make_face()
    extrude(amount=F13_DEPTH)


solid = Compound([f1.part, f13.part])
